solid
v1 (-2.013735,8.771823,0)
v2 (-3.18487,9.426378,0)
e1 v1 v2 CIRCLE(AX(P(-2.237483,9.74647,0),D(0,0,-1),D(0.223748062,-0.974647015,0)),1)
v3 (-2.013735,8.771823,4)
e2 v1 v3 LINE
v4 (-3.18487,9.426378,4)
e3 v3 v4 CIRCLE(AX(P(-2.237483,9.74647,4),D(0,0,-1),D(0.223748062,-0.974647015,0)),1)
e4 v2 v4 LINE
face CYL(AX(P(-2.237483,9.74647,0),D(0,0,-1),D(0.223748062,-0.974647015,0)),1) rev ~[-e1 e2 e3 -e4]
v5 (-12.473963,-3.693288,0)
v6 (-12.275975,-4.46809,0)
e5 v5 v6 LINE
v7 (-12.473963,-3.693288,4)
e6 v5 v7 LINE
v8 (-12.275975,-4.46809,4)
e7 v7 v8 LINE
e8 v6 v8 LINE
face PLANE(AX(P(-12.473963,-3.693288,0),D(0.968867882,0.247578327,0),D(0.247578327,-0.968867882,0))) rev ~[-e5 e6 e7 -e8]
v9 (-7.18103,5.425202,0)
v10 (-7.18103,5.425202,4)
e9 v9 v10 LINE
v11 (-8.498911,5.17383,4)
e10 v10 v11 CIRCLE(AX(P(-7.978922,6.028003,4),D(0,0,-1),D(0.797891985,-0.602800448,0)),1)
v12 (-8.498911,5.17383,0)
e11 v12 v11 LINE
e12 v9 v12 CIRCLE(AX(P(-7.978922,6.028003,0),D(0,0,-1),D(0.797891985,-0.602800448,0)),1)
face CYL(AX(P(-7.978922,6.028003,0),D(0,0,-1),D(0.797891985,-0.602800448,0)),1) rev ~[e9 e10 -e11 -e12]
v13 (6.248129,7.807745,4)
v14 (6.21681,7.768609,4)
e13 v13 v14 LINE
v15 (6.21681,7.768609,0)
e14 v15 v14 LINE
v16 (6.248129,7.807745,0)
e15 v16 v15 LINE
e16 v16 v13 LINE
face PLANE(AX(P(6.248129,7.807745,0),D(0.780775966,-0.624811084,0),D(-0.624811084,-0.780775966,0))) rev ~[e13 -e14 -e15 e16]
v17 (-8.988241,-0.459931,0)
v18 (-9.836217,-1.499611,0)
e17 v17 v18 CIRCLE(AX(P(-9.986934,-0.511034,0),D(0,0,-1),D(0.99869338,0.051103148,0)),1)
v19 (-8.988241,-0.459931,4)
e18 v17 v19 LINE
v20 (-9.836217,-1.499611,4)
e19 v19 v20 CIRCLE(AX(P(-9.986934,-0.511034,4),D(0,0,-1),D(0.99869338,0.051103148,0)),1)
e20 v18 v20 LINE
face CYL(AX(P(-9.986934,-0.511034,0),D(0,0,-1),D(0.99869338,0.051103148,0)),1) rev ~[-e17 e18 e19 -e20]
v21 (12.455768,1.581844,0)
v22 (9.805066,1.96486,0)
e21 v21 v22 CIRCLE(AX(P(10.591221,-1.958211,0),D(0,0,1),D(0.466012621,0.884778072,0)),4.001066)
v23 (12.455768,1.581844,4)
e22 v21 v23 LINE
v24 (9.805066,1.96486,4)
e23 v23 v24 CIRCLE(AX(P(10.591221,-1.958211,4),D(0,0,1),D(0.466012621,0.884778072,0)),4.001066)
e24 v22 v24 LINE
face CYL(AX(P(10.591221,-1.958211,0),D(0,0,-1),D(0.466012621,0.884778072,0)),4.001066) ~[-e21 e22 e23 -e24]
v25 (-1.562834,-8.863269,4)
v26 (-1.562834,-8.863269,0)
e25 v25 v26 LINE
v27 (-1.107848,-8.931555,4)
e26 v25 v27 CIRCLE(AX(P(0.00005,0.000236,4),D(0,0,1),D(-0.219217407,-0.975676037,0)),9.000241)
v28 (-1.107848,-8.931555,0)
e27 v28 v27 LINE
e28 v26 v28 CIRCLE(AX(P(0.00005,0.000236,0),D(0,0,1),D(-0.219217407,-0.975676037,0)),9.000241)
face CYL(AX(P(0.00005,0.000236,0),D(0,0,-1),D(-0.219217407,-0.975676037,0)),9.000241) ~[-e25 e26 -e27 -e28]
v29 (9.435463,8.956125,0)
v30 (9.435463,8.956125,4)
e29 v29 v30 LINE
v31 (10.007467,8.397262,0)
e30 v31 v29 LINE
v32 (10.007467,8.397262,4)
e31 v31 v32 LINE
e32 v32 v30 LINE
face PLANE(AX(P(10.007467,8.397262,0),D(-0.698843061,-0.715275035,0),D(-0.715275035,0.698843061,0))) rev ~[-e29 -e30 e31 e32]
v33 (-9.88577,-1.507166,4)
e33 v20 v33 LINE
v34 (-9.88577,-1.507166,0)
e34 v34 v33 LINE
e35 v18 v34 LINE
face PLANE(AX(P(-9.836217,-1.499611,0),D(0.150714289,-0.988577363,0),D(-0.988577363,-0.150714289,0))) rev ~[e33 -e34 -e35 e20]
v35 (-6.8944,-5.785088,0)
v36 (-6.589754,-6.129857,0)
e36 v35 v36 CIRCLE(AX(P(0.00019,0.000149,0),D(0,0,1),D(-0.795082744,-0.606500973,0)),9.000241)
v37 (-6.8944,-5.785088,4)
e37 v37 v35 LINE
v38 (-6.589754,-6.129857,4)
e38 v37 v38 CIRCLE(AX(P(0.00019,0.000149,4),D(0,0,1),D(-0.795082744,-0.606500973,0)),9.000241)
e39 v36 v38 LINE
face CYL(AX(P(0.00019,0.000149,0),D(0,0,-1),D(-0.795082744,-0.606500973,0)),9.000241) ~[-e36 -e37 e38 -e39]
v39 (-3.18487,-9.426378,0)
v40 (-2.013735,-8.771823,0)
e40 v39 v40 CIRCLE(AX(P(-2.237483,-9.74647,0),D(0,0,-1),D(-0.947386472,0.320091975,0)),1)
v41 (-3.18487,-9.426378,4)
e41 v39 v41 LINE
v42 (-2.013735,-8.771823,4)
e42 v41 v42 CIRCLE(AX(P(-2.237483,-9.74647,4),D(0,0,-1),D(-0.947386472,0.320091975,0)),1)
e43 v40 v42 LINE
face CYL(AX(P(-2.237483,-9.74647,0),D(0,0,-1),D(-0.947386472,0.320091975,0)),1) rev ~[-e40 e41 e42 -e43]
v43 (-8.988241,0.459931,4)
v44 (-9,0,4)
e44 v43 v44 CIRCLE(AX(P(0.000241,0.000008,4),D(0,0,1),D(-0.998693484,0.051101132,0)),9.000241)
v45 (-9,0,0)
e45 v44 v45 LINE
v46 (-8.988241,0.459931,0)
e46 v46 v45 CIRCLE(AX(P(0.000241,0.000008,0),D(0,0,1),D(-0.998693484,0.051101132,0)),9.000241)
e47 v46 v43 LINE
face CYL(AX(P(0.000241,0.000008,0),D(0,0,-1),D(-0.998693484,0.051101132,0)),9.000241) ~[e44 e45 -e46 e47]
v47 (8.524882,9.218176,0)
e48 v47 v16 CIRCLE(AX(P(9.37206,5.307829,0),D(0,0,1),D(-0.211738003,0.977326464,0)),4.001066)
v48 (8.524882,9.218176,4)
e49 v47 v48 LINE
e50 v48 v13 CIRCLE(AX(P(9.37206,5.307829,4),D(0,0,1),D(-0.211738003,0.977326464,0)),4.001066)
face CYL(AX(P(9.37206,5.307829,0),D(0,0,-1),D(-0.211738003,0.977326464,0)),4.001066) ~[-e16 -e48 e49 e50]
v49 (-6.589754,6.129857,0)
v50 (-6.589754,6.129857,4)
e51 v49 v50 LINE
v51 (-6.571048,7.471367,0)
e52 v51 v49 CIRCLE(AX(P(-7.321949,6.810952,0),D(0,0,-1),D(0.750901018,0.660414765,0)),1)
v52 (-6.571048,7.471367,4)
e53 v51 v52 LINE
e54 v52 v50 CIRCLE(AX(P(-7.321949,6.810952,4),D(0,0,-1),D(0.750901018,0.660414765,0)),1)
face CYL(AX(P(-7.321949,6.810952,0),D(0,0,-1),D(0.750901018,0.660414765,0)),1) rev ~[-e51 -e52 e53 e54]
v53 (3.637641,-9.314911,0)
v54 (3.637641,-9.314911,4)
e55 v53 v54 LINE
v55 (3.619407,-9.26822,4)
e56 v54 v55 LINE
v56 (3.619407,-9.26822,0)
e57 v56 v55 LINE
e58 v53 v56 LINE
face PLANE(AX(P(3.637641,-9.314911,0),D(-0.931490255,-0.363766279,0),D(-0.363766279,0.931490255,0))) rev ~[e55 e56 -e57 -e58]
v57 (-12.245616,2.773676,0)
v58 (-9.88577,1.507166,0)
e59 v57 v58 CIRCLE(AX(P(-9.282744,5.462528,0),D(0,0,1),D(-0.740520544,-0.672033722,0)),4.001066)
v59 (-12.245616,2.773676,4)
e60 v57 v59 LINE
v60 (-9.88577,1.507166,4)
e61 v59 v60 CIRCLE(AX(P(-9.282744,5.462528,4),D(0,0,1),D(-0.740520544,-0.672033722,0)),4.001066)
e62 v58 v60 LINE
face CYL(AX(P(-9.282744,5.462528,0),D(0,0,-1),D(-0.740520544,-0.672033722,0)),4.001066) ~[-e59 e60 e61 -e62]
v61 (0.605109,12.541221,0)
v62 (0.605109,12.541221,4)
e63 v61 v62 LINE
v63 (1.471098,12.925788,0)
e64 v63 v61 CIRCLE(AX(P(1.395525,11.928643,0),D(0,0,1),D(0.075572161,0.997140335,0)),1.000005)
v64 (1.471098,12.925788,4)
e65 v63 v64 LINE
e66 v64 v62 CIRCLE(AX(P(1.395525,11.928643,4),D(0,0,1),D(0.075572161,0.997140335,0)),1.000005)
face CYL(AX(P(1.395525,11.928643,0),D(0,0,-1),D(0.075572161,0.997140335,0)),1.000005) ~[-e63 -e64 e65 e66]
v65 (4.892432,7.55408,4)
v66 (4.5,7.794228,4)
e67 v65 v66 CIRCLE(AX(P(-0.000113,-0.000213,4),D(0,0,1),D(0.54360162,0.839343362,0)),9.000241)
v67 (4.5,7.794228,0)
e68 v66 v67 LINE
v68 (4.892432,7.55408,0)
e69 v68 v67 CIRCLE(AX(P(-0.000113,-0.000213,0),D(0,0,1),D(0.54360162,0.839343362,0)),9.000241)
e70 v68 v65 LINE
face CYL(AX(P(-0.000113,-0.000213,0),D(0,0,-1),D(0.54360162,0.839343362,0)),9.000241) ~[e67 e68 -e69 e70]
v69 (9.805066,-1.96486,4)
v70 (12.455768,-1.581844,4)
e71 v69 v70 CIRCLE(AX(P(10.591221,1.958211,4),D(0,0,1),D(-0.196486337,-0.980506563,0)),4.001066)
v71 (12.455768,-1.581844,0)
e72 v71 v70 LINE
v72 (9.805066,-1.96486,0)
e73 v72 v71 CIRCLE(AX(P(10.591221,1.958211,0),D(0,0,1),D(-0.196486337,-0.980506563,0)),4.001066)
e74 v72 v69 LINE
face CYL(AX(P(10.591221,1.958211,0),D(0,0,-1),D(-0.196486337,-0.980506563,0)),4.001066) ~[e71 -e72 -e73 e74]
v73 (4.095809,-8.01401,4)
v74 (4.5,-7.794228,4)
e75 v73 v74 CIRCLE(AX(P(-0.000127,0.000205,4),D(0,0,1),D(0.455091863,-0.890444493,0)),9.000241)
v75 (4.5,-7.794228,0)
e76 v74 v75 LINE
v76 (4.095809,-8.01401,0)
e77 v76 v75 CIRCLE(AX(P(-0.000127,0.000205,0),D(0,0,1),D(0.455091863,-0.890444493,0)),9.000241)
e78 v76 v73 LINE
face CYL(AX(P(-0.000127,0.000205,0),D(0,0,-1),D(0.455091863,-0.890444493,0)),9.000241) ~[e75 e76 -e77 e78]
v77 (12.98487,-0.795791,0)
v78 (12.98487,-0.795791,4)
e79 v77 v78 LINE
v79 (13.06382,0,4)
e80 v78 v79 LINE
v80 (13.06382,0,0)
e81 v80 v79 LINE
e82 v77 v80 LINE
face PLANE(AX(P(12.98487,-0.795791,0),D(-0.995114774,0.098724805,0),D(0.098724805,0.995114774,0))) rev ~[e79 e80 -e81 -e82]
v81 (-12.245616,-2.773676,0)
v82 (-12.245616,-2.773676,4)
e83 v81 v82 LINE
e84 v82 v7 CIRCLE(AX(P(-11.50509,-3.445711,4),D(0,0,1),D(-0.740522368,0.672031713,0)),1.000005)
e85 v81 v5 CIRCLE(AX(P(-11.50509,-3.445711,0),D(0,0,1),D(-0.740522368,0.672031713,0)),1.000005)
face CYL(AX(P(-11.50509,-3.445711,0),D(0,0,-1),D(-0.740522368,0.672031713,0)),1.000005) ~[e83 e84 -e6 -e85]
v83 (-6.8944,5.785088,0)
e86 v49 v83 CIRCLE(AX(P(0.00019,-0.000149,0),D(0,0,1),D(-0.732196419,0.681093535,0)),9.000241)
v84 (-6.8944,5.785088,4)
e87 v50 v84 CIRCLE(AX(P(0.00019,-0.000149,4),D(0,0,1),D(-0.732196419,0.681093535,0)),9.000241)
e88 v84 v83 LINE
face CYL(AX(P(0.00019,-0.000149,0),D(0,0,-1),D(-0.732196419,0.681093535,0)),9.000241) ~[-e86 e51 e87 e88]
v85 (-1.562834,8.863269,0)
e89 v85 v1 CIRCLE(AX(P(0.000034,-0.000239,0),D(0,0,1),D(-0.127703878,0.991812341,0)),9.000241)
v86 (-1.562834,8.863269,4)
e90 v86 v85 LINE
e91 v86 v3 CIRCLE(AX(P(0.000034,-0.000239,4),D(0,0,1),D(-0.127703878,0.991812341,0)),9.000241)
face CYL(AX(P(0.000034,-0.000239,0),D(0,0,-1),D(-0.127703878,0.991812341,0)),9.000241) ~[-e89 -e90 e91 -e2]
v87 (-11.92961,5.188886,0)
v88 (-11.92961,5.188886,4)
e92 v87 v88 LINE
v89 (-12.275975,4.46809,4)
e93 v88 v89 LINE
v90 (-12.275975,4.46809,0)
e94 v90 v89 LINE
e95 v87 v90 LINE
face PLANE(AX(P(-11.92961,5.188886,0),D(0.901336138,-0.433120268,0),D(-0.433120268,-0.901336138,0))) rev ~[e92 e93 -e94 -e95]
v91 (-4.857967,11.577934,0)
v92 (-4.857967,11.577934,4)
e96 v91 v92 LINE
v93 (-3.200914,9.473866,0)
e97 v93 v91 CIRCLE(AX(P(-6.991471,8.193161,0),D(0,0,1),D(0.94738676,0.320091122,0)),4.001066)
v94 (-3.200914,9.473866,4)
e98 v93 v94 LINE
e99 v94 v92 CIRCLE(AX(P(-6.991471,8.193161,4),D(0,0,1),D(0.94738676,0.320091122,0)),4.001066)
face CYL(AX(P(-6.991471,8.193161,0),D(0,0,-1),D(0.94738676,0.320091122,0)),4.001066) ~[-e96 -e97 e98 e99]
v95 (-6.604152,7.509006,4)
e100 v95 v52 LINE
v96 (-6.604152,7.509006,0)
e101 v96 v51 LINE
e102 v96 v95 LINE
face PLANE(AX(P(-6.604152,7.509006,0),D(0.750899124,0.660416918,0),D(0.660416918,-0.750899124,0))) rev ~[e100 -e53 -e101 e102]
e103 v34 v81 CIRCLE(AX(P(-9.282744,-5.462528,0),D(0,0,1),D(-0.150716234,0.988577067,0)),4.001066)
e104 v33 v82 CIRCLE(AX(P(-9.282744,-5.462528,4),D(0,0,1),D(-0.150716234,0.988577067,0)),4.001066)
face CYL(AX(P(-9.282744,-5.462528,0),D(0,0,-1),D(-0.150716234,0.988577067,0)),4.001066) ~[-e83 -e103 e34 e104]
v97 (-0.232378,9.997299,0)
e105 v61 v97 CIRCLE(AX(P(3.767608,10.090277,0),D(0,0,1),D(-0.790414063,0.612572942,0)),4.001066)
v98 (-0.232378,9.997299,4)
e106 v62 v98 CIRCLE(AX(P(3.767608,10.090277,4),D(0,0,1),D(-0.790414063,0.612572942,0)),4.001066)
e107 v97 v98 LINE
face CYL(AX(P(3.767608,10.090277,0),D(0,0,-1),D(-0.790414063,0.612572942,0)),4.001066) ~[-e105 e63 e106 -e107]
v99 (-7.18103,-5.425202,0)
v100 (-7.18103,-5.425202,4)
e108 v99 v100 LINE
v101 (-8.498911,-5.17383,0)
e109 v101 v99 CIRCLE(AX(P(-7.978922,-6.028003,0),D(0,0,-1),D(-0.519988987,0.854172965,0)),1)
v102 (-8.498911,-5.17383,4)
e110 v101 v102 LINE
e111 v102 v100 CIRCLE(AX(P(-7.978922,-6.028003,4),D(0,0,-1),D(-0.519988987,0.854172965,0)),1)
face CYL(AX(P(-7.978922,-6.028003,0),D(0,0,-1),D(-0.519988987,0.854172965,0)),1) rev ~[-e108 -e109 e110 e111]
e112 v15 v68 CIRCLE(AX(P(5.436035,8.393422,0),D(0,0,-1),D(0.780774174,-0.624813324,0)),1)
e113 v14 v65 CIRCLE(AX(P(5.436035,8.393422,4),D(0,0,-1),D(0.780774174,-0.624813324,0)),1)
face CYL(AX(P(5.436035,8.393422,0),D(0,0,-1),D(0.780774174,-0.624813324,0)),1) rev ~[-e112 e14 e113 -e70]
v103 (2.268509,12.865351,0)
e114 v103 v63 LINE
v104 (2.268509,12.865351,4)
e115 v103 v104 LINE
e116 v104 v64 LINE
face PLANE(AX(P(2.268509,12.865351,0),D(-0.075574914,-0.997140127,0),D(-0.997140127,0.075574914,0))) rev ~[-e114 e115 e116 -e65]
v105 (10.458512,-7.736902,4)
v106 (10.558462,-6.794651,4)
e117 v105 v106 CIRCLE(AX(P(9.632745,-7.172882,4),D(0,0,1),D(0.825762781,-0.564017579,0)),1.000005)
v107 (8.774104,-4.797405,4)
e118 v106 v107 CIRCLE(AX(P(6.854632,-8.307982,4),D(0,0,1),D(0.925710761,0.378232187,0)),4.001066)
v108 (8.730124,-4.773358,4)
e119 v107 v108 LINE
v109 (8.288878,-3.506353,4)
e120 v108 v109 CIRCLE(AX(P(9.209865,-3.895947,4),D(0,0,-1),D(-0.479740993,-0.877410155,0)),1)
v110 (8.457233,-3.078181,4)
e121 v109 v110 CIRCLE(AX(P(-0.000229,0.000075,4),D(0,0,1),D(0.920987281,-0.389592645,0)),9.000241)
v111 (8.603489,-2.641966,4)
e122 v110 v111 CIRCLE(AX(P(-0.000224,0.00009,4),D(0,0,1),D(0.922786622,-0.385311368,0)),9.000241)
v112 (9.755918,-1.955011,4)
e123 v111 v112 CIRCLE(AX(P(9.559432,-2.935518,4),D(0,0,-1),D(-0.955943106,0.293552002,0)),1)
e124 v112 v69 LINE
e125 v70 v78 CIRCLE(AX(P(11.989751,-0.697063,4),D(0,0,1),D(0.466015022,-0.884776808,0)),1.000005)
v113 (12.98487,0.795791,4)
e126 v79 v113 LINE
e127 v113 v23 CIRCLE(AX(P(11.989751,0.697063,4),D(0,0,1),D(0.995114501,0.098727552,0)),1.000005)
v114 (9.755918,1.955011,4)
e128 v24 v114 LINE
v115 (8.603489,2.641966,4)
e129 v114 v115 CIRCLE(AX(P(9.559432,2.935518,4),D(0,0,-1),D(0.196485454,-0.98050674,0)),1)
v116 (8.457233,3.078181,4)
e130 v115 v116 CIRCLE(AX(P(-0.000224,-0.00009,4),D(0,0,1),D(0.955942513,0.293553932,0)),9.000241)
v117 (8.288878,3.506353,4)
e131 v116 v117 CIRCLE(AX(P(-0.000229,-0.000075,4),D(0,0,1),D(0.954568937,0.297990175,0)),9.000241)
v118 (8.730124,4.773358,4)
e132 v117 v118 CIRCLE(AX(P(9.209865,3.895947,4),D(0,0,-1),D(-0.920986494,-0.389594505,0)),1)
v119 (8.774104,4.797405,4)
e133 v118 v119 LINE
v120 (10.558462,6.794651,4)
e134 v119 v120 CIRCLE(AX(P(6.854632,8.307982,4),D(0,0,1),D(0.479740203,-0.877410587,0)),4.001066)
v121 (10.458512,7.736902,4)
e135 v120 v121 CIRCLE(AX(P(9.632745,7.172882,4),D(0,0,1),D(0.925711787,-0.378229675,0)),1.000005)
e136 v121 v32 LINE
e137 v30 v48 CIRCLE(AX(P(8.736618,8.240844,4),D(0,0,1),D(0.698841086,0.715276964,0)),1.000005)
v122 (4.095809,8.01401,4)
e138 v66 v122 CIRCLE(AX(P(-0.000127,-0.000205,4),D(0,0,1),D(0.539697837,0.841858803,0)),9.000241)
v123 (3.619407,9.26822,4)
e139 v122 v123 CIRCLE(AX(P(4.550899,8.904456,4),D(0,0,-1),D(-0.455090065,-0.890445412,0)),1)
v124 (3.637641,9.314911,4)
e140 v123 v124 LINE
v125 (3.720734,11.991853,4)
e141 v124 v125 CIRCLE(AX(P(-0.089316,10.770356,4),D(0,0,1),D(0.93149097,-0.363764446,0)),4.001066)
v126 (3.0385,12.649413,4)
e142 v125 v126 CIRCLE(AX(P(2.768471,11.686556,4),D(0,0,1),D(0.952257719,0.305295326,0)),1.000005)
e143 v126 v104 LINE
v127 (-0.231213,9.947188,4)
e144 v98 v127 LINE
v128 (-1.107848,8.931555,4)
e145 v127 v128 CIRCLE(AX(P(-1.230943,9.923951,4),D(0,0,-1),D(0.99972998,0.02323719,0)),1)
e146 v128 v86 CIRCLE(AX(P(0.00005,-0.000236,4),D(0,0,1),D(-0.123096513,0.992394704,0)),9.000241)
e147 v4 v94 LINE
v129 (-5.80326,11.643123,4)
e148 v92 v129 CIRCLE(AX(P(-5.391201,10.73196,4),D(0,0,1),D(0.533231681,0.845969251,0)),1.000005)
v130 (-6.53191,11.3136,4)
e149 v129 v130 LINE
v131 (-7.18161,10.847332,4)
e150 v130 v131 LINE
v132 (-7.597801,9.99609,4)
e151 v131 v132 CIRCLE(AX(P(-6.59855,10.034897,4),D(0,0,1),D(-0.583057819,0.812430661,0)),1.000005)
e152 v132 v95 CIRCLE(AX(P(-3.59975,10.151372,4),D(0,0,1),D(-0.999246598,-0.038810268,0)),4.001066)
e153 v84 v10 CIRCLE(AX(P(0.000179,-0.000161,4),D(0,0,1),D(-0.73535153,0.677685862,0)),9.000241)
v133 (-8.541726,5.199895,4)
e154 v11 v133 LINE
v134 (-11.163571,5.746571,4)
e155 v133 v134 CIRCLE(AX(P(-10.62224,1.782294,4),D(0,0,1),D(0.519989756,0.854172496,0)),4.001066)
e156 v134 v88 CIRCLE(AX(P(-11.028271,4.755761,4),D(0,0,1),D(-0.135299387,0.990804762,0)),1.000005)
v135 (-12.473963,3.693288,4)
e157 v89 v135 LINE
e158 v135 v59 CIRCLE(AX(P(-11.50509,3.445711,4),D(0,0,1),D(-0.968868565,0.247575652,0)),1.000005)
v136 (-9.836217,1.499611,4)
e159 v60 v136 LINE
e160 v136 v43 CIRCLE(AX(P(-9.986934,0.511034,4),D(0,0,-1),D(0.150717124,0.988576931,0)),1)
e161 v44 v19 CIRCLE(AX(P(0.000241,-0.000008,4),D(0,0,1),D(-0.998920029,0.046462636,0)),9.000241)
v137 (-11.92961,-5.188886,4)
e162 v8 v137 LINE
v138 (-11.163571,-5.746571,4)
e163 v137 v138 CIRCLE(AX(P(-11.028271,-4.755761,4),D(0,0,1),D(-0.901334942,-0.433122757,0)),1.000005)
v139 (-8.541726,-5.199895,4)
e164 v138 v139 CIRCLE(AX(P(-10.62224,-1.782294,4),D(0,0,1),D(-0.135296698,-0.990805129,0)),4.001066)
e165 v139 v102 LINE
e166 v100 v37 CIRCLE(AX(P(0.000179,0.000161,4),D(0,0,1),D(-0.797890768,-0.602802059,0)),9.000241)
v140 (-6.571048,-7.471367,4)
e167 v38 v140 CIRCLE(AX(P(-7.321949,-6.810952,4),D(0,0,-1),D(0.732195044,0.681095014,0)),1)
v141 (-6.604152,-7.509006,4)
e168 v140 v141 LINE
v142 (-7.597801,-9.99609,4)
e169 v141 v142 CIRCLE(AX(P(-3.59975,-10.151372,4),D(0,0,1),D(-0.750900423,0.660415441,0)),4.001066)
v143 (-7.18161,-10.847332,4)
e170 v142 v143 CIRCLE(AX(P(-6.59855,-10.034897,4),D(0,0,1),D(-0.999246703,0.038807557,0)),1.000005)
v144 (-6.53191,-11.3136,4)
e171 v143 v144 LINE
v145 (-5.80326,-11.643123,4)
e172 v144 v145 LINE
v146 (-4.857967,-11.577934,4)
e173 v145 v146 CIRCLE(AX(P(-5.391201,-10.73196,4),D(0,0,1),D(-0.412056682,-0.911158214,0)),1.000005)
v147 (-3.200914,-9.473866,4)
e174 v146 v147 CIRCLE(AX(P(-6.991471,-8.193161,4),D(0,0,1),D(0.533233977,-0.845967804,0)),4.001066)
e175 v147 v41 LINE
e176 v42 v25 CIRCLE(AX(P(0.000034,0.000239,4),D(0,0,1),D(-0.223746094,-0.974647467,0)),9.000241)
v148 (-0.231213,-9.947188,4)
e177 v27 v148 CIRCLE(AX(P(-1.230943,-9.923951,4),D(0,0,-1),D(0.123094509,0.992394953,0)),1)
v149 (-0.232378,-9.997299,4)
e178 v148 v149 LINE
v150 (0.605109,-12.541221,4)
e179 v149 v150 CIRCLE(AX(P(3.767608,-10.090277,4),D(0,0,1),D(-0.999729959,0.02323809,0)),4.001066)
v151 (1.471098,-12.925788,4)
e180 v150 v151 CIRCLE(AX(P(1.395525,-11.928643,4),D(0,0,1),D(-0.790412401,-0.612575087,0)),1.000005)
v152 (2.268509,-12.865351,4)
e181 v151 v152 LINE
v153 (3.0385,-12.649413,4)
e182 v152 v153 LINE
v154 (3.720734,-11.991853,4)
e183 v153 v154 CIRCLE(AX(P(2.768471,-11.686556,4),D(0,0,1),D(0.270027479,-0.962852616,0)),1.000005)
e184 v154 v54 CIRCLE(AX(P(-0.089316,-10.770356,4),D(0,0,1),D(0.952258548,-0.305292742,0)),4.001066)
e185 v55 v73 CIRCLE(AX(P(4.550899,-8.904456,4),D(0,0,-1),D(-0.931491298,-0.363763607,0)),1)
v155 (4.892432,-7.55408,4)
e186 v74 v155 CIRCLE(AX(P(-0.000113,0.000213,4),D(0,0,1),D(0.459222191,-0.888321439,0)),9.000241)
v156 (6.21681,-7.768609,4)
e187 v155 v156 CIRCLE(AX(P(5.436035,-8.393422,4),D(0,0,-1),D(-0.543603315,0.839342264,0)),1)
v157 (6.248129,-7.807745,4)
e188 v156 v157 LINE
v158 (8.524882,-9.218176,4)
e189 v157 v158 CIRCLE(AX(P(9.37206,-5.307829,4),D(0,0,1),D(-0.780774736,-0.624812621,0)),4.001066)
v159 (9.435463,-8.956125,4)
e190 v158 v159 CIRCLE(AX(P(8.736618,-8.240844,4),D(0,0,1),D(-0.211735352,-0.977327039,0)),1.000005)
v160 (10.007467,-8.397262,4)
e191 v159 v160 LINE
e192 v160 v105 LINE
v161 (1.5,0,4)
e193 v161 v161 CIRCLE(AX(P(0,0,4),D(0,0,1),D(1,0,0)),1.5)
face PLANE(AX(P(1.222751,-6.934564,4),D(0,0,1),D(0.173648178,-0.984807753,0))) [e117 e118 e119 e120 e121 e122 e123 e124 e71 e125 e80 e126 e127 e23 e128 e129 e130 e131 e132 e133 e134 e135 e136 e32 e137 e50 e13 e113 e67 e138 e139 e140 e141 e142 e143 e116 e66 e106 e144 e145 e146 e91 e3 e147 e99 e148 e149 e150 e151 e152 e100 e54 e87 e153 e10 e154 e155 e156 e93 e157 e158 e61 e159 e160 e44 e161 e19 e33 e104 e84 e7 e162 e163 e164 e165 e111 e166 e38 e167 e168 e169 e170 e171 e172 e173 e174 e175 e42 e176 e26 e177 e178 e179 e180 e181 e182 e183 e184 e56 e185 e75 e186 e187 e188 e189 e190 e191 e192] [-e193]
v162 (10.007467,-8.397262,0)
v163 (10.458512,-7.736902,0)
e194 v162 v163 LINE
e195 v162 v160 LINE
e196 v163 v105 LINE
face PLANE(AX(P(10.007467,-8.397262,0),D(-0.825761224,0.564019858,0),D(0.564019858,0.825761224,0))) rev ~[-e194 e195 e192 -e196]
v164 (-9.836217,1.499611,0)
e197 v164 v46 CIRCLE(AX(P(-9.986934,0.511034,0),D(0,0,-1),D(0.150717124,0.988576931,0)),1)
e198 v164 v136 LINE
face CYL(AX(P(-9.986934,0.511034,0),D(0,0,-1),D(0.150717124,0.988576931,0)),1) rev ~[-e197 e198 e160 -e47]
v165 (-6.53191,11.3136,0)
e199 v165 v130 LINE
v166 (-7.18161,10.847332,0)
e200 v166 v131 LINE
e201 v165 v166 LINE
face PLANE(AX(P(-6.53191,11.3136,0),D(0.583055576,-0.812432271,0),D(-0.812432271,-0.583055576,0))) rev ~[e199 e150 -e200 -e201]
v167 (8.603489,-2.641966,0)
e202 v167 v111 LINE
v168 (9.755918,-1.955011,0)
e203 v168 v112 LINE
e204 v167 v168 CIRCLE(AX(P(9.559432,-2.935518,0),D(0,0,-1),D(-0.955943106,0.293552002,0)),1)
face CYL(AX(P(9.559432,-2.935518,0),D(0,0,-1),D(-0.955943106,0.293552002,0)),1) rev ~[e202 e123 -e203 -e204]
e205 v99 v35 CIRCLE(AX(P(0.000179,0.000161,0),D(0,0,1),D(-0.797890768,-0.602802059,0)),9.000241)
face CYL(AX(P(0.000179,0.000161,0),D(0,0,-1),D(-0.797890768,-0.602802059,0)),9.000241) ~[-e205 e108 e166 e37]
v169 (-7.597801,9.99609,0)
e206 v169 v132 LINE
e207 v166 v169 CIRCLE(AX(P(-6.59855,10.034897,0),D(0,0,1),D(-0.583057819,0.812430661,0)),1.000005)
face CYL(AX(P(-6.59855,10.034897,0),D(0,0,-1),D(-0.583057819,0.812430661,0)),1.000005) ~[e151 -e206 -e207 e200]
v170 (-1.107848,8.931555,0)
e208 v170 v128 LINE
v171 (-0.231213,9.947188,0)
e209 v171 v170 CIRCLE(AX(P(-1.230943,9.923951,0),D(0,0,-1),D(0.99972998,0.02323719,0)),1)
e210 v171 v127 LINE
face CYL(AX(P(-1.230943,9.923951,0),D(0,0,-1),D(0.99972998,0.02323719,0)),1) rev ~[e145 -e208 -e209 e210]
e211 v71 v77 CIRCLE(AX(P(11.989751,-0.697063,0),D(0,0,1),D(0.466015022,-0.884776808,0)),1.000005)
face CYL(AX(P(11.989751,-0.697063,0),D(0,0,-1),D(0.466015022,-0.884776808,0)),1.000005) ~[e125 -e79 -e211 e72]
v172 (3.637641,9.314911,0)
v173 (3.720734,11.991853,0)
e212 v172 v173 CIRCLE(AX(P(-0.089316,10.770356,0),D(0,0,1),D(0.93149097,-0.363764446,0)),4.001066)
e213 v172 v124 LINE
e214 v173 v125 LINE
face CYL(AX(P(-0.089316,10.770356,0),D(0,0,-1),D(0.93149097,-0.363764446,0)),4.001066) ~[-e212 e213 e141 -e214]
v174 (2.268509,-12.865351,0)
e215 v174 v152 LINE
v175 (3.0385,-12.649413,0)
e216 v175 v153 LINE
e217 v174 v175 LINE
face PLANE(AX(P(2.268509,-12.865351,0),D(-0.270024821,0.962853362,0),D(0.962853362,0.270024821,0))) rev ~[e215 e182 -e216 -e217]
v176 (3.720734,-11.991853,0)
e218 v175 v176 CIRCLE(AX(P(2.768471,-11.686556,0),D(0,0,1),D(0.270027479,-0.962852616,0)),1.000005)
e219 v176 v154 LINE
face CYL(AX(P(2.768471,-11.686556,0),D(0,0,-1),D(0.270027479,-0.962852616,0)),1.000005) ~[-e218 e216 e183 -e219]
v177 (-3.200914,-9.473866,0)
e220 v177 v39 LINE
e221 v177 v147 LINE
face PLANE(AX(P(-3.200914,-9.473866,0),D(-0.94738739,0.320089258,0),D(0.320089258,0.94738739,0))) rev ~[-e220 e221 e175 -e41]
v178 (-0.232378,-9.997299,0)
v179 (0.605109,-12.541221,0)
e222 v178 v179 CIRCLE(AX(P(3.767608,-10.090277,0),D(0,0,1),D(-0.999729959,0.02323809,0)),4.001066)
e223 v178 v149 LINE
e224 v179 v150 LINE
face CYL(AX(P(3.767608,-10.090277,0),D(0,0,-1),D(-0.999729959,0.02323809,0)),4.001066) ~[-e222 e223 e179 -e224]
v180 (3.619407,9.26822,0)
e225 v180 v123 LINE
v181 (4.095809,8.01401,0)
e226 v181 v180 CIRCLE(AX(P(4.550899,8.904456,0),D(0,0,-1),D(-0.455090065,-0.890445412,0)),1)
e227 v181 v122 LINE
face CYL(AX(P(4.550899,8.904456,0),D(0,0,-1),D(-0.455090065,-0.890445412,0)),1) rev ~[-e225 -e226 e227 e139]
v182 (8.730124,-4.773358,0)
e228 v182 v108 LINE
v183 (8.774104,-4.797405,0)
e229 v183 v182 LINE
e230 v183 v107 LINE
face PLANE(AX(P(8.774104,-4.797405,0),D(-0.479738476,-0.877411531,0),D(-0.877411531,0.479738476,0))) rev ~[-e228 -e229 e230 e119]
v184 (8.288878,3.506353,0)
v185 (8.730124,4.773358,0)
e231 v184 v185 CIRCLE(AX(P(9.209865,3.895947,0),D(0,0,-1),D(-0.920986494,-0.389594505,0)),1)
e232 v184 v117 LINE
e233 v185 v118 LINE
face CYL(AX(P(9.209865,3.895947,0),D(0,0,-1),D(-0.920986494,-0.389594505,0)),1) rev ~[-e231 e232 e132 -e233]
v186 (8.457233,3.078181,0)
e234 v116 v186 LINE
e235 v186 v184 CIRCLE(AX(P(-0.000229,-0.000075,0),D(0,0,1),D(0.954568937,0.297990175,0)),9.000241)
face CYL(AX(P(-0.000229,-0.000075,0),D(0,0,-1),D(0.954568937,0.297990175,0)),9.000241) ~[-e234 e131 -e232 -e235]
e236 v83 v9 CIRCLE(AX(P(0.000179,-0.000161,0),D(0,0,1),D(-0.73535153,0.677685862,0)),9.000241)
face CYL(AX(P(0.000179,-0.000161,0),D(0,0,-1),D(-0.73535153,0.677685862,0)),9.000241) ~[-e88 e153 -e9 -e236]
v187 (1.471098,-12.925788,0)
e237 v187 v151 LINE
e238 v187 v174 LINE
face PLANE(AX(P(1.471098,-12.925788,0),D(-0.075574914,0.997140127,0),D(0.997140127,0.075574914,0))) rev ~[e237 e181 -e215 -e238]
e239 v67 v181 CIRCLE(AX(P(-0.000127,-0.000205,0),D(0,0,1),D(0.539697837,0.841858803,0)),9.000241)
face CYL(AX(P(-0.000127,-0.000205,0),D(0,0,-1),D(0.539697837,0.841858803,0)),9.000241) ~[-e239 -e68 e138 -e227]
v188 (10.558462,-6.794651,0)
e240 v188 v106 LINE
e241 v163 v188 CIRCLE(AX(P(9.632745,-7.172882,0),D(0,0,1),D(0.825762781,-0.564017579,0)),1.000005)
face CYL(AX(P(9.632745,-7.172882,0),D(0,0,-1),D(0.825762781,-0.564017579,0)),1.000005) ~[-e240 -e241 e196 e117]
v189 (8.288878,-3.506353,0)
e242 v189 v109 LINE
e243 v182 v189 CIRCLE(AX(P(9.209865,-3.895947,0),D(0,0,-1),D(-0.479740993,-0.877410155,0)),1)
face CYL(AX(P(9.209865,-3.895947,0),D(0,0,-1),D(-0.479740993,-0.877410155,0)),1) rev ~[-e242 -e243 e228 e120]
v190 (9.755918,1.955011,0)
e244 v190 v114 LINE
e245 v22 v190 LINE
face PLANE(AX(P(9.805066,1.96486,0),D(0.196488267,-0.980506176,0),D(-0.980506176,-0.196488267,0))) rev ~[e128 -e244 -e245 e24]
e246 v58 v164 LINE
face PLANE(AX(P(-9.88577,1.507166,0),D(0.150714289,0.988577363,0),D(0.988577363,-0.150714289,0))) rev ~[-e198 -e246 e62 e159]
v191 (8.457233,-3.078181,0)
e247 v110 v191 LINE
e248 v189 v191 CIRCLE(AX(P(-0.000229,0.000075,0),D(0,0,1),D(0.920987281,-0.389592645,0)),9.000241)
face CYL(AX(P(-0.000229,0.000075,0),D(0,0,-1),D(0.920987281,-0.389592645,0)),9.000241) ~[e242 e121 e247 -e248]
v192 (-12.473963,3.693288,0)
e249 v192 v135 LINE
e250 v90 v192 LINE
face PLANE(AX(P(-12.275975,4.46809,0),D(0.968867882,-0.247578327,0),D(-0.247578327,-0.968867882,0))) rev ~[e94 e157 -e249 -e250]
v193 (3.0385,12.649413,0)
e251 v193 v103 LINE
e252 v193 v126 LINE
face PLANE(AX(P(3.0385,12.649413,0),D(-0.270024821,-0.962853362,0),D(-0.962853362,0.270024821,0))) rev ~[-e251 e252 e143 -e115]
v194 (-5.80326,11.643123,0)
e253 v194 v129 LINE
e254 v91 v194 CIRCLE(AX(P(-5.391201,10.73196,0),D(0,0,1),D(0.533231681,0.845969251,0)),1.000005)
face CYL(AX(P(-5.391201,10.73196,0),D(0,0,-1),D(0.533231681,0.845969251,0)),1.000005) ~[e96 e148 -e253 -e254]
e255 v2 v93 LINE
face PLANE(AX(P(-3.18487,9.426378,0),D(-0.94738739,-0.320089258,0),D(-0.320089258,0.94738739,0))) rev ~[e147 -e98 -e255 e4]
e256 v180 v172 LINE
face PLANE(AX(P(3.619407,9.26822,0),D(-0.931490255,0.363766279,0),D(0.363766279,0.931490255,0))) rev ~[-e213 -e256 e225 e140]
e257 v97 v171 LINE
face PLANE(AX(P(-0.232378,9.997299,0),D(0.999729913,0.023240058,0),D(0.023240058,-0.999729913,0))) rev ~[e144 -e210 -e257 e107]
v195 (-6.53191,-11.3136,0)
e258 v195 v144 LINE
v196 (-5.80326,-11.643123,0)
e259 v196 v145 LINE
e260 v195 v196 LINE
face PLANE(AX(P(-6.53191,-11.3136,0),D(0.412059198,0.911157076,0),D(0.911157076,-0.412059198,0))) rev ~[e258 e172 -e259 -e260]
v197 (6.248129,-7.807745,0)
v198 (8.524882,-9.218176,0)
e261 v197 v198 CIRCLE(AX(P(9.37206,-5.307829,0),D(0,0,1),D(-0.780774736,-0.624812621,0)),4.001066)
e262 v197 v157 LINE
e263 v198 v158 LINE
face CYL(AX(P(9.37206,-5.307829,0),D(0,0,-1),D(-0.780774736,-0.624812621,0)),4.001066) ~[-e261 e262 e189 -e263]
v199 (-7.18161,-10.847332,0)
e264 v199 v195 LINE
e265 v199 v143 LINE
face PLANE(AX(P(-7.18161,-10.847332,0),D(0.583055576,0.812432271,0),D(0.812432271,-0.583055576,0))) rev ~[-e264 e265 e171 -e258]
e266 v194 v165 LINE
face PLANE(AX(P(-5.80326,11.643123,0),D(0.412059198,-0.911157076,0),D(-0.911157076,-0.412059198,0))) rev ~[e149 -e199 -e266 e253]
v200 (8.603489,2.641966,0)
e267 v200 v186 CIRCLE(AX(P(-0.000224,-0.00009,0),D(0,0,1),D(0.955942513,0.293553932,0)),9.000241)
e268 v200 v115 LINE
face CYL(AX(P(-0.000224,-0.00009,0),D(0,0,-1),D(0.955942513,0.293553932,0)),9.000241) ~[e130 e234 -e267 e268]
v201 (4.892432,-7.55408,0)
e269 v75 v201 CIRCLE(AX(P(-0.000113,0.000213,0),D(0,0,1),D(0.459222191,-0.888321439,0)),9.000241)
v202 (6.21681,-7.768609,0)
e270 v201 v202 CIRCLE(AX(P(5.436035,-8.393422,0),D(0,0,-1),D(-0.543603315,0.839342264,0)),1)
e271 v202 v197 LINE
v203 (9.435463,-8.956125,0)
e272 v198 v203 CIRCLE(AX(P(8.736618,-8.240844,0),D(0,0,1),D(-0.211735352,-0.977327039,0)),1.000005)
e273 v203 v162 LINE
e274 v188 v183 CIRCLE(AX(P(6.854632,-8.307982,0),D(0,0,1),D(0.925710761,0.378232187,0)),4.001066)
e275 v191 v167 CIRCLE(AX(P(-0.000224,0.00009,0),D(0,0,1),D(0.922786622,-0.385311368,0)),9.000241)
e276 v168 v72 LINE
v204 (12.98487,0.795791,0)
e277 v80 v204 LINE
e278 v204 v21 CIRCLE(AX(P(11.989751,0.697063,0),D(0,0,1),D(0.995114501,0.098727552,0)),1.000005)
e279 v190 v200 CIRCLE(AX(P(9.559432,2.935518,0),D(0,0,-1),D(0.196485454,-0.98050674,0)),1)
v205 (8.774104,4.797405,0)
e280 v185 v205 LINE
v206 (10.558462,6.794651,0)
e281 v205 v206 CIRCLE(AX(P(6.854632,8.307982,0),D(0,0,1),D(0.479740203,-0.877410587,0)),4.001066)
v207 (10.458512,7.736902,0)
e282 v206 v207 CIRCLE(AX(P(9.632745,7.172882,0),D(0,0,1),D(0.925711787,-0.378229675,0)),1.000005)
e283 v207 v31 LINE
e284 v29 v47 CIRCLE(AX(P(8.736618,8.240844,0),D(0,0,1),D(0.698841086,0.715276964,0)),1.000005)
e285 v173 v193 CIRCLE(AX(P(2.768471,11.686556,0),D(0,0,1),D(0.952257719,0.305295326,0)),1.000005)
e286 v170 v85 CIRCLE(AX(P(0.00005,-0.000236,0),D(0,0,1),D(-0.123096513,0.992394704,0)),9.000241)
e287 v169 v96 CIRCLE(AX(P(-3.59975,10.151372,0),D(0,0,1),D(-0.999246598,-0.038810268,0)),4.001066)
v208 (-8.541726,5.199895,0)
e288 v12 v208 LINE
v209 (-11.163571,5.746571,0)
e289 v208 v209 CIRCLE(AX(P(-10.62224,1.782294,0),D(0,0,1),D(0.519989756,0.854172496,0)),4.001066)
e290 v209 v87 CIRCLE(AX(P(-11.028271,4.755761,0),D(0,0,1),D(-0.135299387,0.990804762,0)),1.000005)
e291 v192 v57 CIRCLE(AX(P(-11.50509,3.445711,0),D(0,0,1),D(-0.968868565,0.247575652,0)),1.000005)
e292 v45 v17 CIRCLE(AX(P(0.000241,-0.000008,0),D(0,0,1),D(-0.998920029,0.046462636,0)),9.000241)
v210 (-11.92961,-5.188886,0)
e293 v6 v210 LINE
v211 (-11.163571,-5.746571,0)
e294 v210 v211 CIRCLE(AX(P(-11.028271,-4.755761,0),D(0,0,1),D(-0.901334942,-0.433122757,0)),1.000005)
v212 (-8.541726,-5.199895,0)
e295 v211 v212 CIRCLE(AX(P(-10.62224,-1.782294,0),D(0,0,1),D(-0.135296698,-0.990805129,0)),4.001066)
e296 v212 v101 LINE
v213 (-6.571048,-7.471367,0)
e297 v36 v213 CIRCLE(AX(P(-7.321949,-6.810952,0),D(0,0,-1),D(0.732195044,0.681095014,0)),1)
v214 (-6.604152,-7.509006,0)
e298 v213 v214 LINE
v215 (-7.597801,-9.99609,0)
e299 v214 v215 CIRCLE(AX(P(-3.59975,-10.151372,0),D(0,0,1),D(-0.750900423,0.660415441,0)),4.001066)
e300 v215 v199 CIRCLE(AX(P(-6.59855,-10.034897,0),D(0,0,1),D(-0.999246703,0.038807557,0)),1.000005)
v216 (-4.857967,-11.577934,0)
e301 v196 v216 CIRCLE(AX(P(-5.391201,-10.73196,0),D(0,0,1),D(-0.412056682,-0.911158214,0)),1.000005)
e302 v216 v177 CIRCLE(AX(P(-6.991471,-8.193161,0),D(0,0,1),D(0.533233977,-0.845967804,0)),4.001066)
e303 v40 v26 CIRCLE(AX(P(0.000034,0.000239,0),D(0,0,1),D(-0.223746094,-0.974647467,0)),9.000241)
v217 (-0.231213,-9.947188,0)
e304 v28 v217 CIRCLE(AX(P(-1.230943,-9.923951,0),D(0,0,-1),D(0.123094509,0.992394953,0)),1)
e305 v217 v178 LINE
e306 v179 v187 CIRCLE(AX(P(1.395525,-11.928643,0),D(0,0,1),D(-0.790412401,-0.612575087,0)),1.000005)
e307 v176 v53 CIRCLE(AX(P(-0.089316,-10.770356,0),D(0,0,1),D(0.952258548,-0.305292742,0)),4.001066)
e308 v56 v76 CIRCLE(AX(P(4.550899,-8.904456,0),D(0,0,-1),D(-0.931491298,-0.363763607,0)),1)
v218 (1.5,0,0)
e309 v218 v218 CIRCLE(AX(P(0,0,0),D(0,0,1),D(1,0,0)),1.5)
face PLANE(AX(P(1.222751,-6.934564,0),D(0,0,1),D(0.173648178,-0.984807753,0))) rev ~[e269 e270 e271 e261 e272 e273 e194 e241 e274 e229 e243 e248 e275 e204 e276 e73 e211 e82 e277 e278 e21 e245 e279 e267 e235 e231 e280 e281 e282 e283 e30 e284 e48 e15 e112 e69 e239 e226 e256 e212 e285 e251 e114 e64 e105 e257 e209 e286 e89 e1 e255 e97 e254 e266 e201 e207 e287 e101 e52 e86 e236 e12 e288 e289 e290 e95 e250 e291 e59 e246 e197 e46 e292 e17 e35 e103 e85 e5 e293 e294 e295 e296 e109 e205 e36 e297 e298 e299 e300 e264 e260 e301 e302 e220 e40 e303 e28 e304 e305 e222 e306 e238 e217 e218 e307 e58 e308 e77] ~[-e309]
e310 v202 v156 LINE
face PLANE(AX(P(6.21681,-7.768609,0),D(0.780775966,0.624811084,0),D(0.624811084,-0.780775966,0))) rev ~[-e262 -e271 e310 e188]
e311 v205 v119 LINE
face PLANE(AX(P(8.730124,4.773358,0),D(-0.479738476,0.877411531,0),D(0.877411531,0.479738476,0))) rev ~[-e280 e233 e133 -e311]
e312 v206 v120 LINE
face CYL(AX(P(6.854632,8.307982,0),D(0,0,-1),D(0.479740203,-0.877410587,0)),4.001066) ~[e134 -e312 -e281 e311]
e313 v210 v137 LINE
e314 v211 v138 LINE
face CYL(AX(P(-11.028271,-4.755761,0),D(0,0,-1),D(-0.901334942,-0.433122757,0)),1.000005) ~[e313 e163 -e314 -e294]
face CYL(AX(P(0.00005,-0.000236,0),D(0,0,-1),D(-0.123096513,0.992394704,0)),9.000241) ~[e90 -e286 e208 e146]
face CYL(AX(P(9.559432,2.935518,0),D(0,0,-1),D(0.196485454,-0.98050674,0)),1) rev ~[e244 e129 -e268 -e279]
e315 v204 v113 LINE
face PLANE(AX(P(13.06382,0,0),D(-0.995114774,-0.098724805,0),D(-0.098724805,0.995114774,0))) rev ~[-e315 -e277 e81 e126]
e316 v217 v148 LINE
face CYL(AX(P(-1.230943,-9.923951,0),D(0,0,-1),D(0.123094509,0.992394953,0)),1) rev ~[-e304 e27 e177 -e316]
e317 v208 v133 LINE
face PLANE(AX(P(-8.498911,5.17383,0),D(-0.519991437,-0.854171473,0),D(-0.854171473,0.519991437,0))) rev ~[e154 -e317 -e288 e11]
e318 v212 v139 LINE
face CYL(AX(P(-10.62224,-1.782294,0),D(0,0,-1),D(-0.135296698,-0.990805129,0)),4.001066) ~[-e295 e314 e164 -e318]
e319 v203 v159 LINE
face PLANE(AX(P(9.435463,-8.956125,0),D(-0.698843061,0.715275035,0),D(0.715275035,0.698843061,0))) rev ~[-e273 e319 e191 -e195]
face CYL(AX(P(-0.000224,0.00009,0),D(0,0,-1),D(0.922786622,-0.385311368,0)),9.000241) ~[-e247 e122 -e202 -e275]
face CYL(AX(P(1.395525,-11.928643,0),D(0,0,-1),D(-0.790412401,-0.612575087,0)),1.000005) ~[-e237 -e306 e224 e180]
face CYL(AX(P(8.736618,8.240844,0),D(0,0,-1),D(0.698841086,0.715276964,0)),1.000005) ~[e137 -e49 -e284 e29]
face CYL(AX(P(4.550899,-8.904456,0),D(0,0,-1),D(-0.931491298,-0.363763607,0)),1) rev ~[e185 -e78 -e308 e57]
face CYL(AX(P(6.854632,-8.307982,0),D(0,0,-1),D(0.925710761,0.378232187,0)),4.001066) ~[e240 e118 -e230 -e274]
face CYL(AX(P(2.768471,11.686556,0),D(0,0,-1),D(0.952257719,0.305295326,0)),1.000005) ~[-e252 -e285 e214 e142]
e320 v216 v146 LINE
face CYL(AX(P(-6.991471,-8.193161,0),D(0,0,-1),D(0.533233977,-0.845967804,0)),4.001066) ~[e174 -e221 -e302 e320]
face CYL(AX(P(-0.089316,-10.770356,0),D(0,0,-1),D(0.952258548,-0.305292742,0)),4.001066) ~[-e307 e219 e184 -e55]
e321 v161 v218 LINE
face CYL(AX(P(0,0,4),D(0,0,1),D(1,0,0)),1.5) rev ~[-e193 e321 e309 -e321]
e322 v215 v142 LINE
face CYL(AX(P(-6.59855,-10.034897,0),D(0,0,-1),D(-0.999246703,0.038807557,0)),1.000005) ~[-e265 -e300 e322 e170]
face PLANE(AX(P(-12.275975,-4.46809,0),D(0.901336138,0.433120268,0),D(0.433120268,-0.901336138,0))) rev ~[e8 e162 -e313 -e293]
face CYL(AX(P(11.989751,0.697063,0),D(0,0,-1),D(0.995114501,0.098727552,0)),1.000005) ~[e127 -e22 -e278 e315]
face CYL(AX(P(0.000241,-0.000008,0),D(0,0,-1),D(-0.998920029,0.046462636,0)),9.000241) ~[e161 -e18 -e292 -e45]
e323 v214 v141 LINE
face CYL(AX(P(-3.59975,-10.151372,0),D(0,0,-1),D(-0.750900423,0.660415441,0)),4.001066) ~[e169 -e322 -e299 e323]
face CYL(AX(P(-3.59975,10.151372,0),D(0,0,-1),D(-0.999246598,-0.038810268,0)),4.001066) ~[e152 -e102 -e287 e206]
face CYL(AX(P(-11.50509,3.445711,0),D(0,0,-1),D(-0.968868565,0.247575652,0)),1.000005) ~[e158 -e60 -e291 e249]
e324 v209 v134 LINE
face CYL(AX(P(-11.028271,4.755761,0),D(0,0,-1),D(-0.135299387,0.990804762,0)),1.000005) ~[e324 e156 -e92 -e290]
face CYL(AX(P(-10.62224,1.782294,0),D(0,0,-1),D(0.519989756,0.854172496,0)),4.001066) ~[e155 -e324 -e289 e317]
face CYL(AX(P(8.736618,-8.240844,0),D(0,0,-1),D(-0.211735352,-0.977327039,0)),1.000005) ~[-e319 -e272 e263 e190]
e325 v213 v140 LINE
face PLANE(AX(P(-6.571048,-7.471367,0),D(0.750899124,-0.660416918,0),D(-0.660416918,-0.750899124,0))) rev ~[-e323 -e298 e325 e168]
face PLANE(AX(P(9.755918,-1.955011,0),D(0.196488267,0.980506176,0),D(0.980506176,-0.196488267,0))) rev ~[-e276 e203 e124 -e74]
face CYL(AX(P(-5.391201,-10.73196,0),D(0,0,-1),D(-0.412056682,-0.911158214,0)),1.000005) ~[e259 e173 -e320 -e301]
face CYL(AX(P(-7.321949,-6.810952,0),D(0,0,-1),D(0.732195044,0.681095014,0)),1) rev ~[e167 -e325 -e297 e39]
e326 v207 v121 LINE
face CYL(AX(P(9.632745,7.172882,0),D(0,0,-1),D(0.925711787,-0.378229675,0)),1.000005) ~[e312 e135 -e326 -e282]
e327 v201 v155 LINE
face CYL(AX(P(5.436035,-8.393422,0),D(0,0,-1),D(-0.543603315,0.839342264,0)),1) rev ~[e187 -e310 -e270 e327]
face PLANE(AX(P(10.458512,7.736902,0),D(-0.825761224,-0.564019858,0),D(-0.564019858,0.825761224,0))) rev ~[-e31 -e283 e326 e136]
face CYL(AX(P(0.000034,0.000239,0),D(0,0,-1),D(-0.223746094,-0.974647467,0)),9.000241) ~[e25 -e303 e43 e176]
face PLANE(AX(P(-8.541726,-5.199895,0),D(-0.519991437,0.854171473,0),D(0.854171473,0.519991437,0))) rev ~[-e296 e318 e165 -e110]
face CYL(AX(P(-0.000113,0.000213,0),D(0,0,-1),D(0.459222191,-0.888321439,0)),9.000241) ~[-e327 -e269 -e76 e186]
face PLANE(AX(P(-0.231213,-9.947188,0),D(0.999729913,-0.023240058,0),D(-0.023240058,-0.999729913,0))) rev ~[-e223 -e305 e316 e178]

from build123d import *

# Parameters (mm, degrees)
F1_DEPTH = 4
F2_COUNT = 9
F4_R     = 1.5
F5_DEPTH = 4


with BuildPart() as f1:
    # F0 (on Top) → F1 (new body)
    with BuildSketch(Plane.XY):
        with BuildLine():
            Line((8.305078, 3.467805), (0, 0))
            Line((0, 0), (8.305078, -3.467805))
            ThreePointArc((8.305078, -3.467805), (8.464361, -3.058527), (8.603489, -2.641966))
            ThreePointArc((8.603489, -2.641966), (9.047406, -2.076548), (9.755918, -1.955011))
            Line((9.755918, -1.955011), (9.805066, -1.96486))
            ThreePointArc((9.805066, -1.96486), (11.163417, -2.001728), (12.455768, -1.581844))
            ThreePointArc((12.455768, -1.581844), (12.819329, -1.255462), (12.98487, -0.795791))
            Line((12.98487, -0.795791), (13.06382, 0))
            Line((13.06382, 0), (12.98487, 0.795791))
            ThreePointArc((12.98487, 0.795791), (12.819329, 1.255462), (12.455768, 1.581844))
            ThreePointArc((12.455768, 1.581844), (11.163417, 2.001728), (9.805066, 1.96486))
            Line((9.805066, 1.96486), (9.755918, 1.955011))
            ThreePointArc((9.755918, 1.955011), (9.047406, 2.076548), (8.603489, 2.641966))
            ThreePointArc((8.603489, 2.641966), (8.464361, 3.058527), (8.305078, 3.467805))
        make_face()
    extrude(amount=F1_DEPTH)


with BuildPart() as f2_1:
    # F2: instance of F1
    add(f1.part.rotate(Axis((0, 0, 2), (0, 0, 1)), 1 * 360 / F2_COUNT))


with BuildPart() as f2_2:
    # F2: instance of F1
    add(f1.part.rotate(Axis((0, 0, 2), (0, 0, 1)), 2 * 360 / F2_COUNT))


with BuildPart() as f2_3:
    # F2: instance of F1
    add(f1.part.rotate(Axis((0, 0, 2), (0, 0, 1)), 3 * 360 / F2_COUNT))


with BuildPart() as f2_4:
    # F2: instance of F1
    add(f1.part.rotate(Axis((0, 0, 2), (0, 0, 1)), 4 * 360 / F2_COUNT))


with BuildPart() as f2_5:
    # F2: instance of F1
    add(f1.part.rotate(Axis((0, 0, 2), (0, 0, 1)), 5 * 360 / F2_COUNT))


with BuildPart() as f2_6:
    # F2: instance of F1
    add(f1.part.rotate(Axis((0, 0, 2), (0, 0, 1)), 6 * 360 / F2_COUNT))


with BuildPart() as f2_7:
    # F2: instance of F1
    add(f1.part.rotate(Axis((0, 0, 2), (0, 0, 1)), 7 * 360 / F2_COUNT))


with BuildPart() as f2_8:
    # F2: instance of F1
    add(f1.part.rotate(Axis((0, 0, 2), (0, 0, 1)), 8 * 360 / F2_COUNT))


with BuildPart() as f2_7_1:
    add(f2_7.part)

    # F3: union F2_6, F2_4, F2_5, F1, F2_1, F2_3, F2_2, F2_8
    add(f2_6.part)
    add(f2_4.part)
    add(f2_5.part)
    add(f1.part)
    add(f2_1.part)
    add(f2_3.part)
    add(f2_2.part)
    add(f2_8.part)

    # F4 (on face) → F5 (cut, through all)
    with BuildSketch(Plane.XY.offset(4)):
        Circle(F4_R)
    extrude(amount=-F5_DEPTH, mode=Mode.SUBTRACT)


solid = f2_7_1.part
